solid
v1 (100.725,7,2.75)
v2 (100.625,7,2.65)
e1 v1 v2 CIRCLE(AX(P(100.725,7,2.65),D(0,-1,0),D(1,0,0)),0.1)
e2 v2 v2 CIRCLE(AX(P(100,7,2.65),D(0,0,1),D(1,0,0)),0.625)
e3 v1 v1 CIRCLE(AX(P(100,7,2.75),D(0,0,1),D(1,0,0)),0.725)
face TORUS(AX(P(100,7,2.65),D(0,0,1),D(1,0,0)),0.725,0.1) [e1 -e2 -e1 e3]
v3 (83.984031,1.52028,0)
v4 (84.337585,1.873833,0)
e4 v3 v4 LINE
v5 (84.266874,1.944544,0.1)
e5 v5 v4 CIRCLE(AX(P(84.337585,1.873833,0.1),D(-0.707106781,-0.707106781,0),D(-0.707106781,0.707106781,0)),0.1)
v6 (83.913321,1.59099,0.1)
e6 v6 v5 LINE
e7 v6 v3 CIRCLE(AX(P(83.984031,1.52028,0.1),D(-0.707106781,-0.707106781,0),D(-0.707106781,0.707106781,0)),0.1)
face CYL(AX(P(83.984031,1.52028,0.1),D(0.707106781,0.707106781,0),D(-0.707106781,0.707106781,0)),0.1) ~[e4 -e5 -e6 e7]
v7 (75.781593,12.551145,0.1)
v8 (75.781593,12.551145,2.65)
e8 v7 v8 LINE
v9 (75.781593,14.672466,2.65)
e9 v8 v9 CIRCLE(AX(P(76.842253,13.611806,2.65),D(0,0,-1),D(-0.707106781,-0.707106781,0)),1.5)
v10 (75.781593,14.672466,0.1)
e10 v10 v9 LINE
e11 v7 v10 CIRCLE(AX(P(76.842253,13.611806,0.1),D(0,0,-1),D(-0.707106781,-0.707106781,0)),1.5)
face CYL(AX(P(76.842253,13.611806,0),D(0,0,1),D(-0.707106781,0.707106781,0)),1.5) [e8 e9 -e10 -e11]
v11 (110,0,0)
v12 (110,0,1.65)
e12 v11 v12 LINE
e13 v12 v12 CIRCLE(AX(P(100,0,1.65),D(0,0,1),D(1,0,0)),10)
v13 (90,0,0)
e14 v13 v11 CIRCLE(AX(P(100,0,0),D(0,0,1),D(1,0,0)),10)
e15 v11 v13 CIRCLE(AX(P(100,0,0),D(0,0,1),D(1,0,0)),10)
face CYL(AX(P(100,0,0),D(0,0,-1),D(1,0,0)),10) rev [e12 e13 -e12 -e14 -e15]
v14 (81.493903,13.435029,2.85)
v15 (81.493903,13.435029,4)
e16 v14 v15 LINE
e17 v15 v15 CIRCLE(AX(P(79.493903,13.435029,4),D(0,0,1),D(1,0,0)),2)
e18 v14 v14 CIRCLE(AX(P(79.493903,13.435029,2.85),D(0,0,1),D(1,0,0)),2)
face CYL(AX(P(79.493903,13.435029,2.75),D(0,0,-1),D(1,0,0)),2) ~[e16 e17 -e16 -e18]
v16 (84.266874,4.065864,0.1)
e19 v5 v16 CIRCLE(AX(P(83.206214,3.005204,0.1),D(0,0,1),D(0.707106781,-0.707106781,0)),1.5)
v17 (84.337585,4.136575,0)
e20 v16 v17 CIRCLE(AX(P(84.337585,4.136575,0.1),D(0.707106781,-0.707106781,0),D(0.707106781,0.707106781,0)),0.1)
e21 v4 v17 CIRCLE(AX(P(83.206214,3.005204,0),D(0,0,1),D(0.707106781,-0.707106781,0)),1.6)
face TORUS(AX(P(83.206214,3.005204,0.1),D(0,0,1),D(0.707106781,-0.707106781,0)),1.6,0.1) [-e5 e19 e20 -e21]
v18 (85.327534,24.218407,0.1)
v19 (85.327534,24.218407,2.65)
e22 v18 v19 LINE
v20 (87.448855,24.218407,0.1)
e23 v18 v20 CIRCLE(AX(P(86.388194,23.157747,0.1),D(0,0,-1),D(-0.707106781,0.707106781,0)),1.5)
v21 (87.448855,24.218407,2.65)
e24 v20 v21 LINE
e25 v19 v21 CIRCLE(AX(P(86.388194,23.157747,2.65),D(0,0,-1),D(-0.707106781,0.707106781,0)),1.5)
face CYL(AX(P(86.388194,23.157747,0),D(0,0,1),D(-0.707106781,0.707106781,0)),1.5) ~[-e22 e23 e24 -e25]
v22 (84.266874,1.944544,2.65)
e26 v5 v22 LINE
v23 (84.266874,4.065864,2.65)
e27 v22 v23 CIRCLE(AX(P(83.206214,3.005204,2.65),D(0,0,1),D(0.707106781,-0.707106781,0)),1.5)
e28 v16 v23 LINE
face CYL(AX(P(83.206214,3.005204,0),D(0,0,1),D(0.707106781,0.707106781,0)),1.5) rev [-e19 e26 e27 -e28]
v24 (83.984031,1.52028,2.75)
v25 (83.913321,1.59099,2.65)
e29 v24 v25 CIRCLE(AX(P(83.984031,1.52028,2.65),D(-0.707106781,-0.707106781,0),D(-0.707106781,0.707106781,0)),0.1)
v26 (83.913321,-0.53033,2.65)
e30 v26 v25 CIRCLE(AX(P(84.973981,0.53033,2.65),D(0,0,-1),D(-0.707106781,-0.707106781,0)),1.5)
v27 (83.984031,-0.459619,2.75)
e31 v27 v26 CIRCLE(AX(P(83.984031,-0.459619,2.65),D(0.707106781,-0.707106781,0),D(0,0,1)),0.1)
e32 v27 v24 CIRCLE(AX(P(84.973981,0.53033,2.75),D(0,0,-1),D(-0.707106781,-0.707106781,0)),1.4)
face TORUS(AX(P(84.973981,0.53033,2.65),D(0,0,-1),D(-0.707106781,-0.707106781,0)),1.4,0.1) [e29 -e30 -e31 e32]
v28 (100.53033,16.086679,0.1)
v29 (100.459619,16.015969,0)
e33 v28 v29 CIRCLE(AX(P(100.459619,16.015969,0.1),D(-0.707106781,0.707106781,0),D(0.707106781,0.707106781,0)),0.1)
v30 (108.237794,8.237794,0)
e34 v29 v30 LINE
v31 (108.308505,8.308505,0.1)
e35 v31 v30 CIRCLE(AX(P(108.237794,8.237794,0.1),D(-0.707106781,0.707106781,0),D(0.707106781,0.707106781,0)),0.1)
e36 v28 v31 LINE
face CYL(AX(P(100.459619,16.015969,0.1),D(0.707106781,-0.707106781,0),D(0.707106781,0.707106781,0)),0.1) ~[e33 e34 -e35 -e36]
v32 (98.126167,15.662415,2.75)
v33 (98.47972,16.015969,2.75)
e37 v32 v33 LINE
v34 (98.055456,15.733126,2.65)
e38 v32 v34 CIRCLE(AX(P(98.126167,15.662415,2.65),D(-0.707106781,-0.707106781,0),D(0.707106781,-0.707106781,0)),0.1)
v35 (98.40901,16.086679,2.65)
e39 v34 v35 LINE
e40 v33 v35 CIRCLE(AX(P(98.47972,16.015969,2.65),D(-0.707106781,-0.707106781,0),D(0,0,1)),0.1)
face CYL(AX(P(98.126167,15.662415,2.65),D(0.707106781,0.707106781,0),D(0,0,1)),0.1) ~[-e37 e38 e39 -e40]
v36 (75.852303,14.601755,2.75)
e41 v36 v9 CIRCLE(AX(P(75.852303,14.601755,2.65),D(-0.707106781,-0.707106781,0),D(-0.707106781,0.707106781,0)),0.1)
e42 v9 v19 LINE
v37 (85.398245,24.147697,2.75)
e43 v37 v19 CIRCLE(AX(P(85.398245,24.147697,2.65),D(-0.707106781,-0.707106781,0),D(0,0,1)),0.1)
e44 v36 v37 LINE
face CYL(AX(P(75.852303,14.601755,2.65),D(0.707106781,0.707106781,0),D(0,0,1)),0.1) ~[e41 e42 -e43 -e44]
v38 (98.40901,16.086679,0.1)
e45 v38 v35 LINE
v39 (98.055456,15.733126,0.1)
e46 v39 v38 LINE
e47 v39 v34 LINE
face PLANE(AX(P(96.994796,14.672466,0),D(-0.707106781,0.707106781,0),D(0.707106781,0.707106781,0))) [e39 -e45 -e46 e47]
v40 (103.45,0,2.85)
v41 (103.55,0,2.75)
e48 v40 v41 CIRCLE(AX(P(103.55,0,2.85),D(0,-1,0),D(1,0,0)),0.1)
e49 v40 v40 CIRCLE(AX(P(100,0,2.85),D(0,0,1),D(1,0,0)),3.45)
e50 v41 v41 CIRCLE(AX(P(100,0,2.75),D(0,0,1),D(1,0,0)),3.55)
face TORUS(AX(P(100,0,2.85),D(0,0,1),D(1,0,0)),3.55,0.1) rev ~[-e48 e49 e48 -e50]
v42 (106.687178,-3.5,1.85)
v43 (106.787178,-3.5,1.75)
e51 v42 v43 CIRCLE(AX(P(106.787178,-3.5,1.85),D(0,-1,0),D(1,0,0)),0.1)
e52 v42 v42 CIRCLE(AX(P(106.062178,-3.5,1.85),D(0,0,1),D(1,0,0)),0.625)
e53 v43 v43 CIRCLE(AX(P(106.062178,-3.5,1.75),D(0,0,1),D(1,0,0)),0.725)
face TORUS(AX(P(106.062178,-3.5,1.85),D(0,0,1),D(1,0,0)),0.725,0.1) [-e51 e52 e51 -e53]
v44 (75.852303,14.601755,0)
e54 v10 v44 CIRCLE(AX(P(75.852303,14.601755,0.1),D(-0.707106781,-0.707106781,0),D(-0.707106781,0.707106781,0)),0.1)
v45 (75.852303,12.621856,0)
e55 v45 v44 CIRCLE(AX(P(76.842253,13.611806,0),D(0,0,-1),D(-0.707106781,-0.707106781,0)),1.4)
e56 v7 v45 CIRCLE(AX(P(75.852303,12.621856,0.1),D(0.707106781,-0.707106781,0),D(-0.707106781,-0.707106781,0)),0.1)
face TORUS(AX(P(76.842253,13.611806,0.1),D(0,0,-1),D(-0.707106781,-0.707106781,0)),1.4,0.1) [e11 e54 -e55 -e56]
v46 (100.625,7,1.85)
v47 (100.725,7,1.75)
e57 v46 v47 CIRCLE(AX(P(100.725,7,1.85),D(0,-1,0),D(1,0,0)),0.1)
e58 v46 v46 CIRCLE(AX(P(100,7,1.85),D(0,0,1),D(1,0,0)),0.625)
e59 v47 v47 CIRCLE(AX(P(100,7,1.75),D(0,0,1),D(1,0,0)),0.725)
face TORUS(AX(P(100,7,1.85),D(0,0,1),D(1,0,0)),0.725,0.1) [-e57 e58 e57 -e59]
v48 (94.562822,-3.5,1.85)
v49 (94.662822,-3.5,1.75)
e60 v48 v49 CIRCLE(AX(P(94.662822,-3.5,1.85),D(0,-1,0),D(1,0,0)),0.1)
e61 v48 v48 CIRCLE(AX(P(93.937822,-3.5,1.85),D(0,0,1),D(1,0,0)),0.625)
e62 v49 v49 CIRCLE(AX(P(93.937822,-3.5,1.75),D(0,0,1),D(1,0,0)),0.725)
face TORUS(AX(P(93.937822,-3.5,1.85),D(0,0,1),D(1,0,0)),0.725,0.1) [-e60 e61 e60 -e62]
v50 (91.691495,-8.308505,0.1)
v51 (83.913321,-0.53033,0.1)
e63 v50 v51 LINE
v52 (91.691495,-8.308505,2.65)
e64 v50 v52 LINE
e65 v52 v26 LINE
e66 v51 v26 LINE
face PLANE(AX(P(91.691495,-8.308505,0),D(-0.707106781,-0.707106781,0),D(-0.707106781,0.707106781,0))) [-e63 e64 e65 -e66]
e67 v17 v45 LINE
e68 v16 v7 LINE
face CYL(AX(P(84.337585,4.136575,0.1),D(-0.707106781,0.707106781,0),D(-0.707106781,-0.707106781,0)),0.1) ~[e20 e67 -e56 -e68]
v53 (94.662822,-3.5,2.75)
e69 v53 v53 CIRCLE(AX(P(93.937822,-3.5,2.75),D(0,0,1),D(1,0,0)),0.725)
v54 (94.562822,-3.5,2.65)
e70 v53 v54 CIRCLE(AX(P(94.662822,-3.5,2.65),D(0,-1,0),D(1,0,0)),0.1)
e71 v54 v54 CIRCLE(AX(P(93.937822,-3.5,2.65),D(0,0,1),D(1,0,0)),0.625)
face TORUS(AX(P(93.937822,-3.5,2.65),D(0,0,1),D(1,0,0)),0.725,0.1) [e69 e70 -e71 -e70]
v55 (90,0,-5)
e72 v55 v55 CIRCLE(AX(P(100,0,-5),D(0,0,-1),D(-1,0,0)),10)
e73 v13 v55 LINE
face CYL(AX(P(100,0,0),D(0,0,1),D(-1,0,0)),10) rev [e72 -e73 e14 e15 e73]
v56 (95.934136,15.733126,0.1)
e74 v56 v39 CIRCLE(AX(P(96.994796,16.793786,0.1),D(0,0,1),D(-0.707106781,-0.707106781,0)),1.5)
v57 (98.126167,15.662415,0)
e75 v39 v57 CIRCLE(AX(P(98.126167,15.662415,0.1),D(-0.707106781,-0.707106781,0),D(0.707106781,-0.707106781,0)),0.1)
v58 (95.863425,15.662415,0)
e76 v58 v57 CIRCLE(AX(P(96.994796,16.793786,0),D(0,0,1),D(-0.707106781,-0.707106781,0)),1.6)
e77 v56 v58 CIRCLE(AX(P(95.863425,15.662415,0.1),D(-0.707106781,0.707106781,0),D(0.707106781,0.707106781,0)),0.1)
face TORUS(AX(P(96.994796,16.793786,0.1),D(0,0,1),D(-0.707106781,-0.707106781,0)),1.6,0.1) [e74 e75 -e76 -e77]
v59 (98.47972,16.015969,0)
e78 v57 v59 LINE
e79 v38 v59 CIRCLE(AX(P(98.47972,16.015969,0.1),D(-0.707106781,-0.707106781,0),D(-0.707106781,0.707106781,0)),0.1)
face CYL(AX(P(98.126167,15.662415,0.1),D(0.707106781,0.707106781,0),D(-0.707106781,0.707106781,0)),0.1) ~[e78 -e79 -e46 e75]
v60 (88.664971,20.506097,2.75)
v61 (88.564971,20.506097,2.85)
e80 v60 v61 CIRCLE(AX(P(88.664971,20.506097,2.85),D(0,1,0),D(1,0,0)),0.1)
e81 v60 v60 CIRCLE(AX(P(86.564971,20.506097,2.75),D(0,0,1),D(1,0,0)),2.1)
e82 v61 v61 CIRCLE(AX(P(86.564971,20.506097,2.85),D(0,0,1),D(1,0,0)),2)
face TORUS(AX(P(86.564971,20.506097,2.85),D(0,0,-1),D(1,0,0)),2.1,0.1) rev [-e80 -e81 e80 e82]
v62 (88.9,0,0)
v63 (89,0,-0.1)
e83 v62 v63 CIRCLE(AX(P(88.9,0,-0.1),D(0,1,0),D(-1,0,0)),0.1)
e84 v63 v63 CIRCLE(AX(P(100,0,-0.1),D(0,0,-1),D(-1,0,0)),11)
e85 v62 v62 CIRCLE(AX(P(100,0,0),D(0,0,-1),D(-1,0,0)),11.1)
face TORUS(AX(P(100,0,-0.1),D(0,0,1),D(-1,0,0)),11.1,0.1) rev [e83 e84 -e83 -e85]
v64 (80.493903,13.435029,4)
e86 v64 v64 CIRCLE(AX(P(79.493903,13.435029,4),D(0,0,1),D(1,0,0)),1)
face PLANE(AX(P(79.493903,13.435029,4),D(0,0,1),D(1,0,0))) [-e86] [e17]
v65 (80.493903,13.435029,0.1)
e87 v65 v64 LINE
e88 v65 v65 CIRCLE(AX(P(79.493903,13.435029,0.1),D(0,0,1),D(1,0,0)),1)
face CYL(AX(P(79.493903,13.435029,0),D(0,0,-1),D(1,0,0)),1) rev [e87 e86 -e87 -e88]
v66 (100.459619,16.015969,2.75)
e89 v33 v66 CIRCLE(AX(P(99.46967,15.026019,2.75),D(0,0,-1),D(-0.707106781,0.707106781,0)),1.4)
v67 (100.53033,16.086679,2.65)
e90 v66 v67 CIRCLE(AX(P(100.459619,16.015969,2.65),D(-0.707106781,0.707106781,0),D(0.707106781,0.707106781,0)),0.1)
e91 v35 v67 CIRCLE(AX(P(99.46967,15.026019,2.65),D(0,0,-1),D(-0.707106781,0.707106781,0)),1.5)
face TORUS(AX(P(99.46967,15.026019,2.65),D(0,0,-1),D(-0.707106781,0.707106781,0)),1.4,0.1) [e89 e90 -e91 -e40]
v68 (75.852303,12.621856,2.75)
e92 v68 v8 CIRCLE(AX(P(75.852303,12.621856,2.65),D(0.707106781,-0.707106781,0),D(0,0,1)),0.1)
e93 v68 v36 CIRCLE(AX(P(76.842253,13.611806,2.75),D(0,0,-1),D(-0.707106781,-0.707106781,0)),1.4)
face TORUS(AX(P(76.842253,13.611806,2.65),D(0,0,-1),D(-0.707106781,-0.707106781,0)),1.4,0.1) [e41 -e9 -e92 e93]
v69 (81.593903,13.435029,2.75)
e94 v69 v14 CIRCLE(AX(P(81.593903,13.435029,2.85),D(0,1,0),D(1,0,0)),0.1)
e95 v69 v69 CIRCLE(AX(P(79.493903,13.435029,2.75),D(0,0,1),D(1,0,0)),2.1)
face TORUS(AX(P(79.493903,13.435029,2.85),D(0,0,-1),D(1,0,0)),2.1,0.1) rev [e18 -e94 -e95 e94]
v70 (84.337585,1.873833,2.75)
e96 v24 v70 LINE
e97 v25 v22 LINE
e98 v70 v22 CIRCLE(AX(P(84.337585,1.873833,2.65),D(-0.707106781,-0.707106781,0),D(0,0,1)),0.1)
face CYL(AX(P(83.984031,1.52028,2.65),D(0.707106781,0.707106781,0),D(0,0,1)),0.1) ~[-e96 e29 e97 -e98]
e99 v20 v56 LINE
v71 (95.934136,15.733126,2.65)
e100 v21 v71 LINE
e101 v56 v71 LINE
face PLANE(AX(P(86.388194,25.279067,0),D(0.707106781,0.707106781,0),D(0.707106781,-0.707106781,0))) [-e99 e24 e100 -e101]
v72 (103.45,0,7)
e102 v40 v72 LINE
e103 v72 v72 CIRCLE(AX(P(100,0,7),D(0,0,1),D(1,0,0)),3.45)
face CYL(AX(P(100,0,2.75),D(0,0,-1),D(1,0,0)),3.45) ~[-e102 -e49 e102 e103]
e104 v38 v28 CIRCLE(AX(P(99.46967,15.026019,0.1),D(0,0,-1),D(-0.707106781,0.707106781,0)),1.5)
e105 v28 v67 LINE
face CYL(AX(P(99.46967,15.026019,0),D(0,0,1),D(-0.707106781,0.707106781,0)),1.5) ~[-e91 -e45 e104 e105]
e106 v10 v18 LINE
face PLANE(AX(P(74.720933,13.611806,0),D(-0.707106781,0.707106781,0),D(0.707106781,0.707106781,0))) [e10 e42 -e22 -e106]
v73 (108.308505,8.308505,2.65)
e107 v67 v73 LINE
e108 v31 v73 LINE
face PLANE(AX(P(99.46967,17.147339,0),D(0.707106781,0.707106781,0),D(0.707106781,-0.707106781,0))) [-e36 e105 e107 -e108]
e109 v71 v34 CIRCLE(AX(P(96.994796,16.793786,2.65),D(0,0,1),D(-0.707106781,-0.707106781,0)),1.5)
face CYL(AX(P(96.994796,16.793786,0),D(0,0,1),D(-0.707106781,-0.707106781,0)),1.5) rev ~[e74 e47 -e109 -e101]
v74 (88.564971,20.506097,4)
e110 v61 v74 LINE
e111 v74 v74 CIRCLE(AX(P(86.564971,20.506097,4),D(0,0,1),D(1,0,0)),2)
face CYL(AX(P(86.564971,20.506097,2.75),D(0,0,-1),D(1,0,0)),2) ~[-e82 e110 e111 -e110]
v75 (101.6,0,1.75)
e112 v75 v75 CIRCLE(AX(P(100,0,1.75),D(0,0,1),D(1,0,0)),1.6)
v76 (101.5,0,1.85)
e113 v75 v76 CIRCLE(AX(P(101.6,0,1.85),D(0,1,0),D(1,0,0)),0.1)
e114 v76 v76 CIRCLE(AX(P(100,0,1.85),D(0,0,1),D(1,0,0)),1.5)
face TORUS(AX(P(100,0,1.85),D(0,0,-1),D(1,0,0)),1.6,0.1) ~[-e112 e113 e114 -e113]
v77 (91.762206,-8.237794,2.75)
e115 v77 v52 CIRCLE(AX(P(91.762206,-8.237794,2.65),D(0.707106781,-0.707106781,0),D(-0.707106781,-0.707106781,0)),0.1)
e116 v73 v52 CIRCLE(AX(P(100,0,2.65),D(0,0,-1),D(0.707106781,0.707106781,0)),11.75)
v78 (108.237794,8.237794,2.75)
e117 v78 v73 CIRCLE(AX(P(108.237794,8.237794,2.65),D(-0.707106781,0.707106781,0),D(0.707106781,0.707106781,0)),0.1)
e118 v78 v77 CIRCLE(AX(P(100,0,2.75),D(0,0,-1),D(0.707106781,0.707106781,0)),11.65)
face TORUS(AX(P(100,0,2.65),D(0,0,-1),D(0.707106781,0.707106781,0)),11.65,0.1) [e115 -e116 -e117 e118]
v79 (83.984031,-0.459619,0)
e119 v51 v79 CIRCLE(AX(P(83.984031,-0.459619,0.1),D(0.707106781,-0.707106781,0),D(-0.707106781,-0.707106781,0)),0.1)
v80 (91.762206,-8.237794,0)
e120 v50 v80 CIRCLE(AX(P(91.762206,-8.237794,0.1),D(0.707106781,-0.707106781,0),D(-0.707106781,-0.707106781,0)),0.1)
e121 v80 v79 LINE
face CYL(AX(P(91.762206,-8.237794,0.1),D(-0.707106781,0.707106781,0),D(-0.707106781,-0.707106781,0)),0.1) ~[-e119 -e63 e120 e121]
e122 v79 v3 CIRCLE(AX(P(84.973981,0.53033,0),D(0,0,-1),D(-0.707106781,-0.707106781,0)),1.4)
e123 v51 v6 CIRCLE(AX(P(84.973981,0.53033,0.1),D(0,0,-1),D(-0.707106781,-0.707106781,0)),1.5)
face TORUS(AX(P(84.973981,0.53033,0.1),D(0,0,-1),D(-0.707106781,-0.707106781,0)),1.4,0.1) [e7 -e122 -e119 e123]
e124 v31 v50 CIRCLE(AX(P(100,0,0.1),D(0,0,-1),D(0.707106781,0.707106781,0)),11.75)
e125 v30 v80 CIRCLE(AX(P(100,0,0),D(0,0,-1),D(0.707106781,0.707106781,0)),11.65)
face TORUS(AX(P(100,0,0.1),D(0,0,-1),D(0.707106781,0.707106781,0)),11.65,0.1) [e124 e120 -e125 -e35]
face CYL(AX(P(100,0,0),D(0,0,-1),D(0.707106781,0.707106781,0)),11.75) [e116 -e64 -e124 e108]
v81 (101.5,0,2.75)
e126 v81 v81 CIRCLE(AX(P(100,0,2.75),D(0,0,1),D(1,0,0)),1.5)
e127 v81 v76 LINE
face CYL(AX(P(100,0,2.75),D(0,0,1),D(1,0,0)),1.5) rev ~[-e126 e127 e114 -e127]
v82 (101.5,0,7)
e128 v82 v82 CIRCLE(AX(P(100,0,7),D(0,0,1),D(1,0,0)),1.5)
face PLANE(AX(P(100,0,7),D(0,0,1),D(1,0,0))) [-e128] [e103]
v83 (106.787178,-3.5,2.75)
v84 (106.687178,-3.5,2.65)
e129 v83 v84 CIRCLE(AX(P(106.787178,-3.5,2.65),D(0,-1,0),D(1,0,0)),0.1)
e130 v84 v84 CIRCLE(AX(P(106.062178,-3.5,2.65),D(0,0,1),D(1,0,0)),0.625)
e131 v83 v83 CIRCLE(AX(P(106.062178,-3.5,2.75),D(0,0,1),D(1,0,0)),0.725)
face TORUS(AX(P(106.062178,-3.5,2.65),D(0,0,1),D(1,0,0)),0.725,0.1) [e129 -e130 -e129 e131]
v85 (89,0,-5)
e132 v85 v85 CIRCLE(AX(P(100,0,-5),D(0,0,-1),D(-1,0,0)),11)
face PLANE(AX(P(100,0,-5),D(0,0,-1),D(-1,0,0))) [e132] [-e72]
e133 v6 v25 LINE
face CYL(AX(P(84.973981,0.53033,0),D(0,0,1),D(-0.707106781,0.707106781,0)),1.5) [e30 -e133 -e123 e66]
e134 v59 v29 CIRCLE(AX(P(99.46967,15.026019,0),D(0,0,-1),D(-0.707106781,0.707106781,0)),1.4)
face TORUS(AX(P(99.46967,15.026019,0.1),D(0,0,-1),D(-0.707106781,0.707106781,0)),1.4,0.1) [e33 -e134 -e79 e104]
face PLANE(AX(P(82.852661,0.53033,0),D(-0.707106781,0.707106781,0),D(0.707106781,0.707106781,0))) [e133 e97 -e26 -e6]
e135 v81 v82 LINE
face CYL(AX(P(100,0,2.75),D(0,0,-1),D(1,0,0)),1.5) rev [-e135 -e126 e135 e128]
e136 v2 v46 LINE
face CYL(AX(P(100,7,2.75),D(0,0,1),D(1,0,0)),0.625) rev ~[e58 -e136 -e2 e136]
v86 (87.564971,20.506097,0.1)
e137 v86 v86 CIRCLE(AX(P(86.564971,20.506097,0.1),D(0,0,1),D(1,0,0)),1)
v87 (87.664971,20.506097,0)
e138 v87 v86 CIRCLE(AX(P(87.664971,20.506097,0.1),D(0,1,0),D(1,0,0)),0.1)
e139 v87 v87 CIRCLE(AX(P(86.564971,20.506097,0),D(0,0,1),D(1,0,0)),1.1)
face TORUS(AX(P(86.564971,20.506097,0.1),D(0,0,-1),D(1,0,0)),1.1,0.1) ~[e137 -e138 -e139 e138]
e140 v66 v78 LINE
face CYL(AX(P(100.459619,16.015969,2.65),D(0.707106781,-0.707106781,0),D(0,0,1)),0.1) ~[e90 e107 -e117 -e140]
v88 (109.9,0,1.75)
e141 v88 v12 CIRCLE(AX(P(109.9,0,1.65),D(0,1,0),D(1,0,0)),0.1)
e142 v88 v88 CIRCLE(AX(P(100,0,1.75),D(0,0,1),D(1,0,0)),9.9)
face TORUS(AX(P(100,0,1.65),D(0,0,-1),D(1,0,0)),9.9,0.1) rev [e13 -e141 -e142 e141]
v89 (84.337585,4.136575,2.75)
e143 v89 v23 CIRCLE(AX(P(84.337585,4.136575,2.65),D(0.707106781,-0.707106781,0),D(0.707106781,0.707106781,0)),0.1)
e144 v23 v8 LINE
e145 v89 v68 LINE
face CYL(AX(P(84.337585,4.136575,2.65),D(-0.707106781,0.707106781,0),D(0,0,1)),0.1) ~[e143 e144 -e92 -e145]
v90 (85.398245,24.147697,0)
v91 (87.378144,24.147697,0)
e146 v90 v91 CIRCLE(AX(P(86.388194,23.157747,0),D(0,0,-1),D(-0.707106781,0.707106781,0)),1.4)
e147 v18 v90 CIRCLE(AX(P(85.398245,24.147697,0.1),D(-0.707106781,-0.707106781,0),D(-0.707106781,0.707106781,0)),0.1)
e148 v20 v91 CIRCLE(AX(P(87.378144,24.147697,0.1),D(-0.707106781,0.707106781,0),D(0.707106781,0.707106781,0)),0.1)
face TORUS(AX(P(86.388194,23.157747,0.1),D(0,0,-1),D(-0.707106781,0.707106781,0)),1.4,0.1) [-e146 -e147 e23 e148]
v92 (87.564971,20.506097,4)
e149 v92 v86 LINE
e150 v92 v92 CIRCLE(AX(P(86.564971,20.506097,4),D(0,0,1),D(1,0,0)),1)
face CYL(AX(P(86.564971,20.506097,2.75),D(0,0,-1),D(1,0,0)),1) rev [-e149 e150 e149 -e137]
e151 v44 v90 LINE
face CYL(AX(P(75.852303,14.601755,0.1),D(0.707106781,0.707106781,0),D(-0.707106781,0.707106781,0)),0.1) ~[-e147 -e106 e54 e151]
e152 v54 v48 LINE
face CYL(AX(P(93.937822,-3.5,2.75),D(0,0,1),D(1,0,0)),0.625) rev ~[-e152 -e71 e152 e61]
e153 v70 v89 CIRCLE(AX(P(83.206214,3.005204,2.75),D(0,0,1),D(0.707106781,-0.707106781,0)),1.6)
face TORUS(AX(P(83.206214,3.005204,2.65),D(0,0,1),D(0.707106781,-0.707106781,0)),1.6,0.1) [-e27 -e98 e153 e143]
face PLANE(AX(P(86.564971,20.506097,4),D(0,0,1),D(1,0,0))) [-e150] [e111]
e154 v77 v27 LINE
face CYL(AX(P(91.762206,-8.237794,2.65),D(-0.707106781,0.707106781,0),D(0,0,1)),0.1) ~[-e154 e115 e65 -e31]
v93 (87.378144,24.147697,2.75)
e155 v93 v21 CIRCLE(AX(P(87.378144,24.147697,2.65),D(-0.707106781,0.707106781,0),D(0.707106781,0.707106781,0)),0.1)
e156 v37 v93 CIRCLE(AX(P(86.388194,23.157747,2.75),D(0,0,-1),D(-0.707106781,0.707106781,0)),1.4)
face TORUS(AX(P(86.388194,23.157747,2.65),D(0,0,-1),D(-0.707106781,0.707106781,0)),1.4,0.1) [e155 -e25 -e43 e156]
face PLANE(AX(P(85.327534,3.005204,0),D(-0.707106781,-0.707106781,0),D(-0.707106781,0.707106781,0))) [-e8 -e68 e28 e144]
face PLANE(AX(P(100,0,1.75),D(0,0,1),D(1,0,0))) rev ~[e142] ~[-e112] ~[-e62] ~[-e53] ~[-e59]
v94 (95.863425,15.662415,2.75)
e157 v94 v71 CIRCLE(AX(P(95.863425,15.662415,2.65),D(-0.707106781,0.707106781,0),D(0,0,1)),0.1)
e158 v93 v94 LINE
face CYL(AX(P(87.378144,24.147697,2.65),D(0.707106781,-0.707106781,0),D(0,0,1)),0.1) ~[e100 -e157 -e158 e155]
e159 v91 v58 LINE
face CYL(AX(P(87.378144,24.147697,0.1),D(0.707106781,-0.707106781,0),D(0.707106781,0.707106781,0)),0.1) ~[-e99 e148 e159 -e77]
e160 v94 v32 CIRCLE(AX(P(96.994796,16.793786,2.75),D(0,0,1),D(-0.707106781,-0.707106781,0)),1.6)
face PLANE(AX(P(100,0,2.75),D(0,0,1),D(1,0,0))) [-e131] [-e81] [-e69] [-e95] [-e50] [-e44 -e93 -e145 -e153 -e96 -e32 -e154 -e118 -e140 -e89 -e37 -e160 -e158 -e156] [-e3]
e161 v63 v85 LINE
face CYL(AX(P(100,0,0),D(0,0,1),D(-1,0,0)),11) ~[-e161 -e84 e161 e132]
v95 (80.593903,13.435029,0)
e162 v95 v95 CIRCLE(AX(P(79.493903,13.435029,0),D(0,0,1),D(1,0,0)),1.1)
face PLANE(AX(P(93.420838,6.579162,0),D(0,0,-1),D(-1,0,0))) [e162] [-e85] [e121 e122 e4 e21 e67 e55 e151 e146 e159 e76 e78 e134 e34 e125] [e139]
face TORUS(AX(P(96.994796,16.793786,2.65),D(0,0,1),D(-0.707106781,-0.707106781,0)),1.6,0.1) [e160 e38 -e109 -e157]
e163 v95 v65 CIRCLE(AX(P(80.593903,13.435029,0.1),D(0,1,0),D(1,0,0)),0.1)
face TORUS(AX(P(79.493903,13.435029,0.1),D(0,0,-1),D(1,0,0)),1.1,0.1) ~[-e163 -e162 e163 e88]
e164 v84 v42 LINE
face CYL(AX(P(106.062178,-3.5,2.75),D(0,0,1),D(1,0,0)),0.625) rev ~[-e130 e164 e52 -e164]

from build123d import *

# Parameters (mm, degrees)
SKETCH5_R           = 10
SKETCH5_R_2         = 1
BOSS_EXTRUDE1_DEPTH = 2.75
SKETCH6_R           = 10
BOSS_EXTRUDE2_DEPTH = 1
SKETCH7_R           = 11
SKETCH7_R_2         = 10
BOSS_EXTRUDE3_DEPTH = 5
FILLET1_R           = 1.5
SKETCH8_R           = 2
SKETCH8_R_2         = 1
BOSS_EXTRUDE4_DEPTH = 1.25
SKETCH9_R           = 1.5
CUT_EXTRUDE1_DEPTH  = 8.75
SKETCH10_R          = 3.45
SKETCH10_R_2        = 1.5
BOSS_EXTRUDE5_DEPTH = 4.25
SKETCH11_R          = 0.625
CUT_EXTRUDE2_DEPTH  = 8.75
FILLET2_R           = 0.1


with BuildPart() as part:
    # Sketch5 → Boss-Extrude1 (new body)
    with BuildSketch(Plane.XY):
        with BuildLine():
            Line((74.720932573, 13.611805538), (86.388194462, 25.279067427))
            Line((86.388194462, 25.279067427), (96.99479618, 14.67246571))
            Line((96.99479618, 14.67246571), (99.469669914, 17.147339444))
            Line((99.469669914, 17.147339444), (108.308504679, 8.308504679))
            ThreePointArc((108.308504679, 8.308504679), (108.308504679, -8.308504679), (91.691495321, -8.308504679))
            Line((91.691495321, -8.308504679), (82.852660556, 0.530330086))
            Line((82.852660556, 0.530330086), (85.32753429, 3.00520382))
            Line((85.32753429, 3.00520382), (74.720932573, 13.611805538))
        make_face()
        with Locations((100, 0)):
            Circle(SKETCH5_R, mode=Mode.SUBTRACT)
        with Locations((79.493903346, 13.435028843)):
            Circle(SKETCH5_R_2, mode=Mode.SUBTRACT)
        with Locations((86.564971157, 20.506096654)):
            Circle(SKETCH5_R_2, mode=Mode.SUBTRACT)
    extrude(amount=BOSS_EXTRUDE1_DEPTH)

    # Sketch6 → Boss-Extrude2 (add)
    with BuildSketch(Plane.XY.offset(2.75)):
        with Locations((100, 0)):
            Circle(SKETCH6_R)
    extrude(amount=-BOSS_EXTRUDE2_DEPTH)

    # Sketch7 → Boss-Extrude3 (add)
    with BuildSketch(Plane(origin=(0, 0, 0), x_dir=(-1, 0, 0), z_dir=(0, 0, -1))):
        with Locations((-100, 0)):
            Circle(SKETCH7_R)
        with Locations((-100, 0)):
            Circle(SKETCH7_R_2, mode=Mode.SUBTRACT)
    extrude(amount=BOSS_EXTRUDE3_DEPTH)

    # Fillet1
    fillet1_edges = [part.edges().sort_by_distance(p)[0] for p in [
        (96.99479618, 14.67246571, 1.375),
        (99.469669914, 17.147339444, 1.375),
        (82.852660556, 0.530330086, 1.375),
        (85.32753429, 3.00520382, 1.375),
        (74.720932573, 13.611805538, 1.375),
        (86.388194462, 25.279067427, 1.375),
    ]]
    fillet(fillet1_edges, radius=FILLET1_R)

    # Sketch8 → Boss-Extrude4 (add)
    with BuildSketch(Plane.XY.offset(2.75)):
        with Locations((86.564971157, 20.506096654)):
            Circle(SKETCH8_R)
        with Locations((86.564971157, 20.506096654)):
            Circle(SKETCH8_R_2, mode=Mode.SUBTRACT)
        with Locations((79.493903346, 13.435028843)):
            Circle(SKETCH8_R)
        with Locations((79.493903346, 13.435028843)):
            Circle(SKETCH8_R_2, mode=Mode.SUBTRACT)
    extrude(amount=BOSS_EXTRUDE4_DEPTH)

    # Sketch9 → Cut-Extrude1 (cut, through all)
    with BuildSketch(Plane.XY.offset(2.75)):
        with Locations((100, 0)):
            Circle(SKETCH9_R)
    extrude(amount=-CUT_EXTRUDE1_DEPTH, mode=Mode.SUBTRACT)

    # Sketch10 → Boss-Extrude5 (add)
    with BuildSketch(Plane.XY.offset(2.75)):
        with Locations((100, 0)):
            Circle(SKETCH10_R)
        with Locations((100, 0)):
            Circle(SKETCH10_R_2, mode=Mode.SUBTRACT)
    extrude(amount=BOSS_EXTRUDE5_DEPTH)

    # Sketch11 → Cut-Extrude2 (cut, through all)
    with BuildSketch(Plane.XY.offset(2.75)):
        with Locations((100, 7)):
            Circle(SKETCH11_R)
        with Locations((106.062177826, -3.5)):
            Circle(SKETCH11_R)
        with Locations((93.937822174, -3.5)):
            Circle(SKETCH11_R)
    extrude(amount=-CUT_EXTRUDE2_DEPTH, mode=Mode.SUBTRACT)

    # Fillet2
    fillet2_edges = [part.edges().sort_by_distance(p)[0] for p in [
        (98.5, 0, 1.75),
        (96.55, 0, 2.75),
        (99.375, 7, 1.75),
        (99.375, 7, 2.75),
        (105.437177826, -3.5, 1.75),
        (105.437177826, -3.5, 2.75),
        (93.312822174, -3.5, 1.75),
        (93.312822174, -3.5, 2.75),
        (108.308504679, -8.308504679, 2.75),
        (104.419417382, 12.197591975, 2.75),
        (78.493903346, 13.435028843, 0),
        (85.564971157, 20.506096654, 0),
        (90, 0, 1.75),
        (111, 0, 0),
        (91.691495321, 19.975766569, 0),
        (91.691495321, 19.975766569, 2.75),
        (98.232233047, 15.909902577, 0),
        (98.232233047, 15.909902577, 2.75),
        (87.802408025, -4.419417382, 0),
        (84.090097423, 1.767766953, 0),
        (80.024233431, 8.308504679, 0),
        (80.554563517, 19.445436483, 0),
        (86.388194462, 24.657747084, 0),
        (75.342252916, 13.611805538, 0),
        (83.4739809, 0.530330086, 0),
        (99.469669914, 16.5260191, 0),
        (80.554563517, 19.445436483, 2.75),
        (80.024233431, 8.308504679, 2.75),
        (84.090097423, 1.767766953, 2.75),
        (87.802408025, -4.419417382, 2.75),
        (86.388194462, 24.657747084, 2.75),
        (75.342252916, 13.611805538, 2.75),
        (83.4739809, 0.530330086, 2.75),
        (99.469669914, 16.5260191, 2.75),
        (96.99479618, 15.293786053, 0),
        (96.99479618, 15.293786053, 2.75),
        (84.706213947, 3.00520382, 0),
        (84.706213947, 3.00520382, 2.75),
        (104.419417382, 12.197591975, 0),
        (108.308504679, -8.308504679, 0),
        (84.564971157, 20.506096654, 2.75),
        (77.493903346, 13.435028843, 2.75),
    ]]
    fillet(fillet2_edges, radius=FILLET2_R)


solid = part.part
